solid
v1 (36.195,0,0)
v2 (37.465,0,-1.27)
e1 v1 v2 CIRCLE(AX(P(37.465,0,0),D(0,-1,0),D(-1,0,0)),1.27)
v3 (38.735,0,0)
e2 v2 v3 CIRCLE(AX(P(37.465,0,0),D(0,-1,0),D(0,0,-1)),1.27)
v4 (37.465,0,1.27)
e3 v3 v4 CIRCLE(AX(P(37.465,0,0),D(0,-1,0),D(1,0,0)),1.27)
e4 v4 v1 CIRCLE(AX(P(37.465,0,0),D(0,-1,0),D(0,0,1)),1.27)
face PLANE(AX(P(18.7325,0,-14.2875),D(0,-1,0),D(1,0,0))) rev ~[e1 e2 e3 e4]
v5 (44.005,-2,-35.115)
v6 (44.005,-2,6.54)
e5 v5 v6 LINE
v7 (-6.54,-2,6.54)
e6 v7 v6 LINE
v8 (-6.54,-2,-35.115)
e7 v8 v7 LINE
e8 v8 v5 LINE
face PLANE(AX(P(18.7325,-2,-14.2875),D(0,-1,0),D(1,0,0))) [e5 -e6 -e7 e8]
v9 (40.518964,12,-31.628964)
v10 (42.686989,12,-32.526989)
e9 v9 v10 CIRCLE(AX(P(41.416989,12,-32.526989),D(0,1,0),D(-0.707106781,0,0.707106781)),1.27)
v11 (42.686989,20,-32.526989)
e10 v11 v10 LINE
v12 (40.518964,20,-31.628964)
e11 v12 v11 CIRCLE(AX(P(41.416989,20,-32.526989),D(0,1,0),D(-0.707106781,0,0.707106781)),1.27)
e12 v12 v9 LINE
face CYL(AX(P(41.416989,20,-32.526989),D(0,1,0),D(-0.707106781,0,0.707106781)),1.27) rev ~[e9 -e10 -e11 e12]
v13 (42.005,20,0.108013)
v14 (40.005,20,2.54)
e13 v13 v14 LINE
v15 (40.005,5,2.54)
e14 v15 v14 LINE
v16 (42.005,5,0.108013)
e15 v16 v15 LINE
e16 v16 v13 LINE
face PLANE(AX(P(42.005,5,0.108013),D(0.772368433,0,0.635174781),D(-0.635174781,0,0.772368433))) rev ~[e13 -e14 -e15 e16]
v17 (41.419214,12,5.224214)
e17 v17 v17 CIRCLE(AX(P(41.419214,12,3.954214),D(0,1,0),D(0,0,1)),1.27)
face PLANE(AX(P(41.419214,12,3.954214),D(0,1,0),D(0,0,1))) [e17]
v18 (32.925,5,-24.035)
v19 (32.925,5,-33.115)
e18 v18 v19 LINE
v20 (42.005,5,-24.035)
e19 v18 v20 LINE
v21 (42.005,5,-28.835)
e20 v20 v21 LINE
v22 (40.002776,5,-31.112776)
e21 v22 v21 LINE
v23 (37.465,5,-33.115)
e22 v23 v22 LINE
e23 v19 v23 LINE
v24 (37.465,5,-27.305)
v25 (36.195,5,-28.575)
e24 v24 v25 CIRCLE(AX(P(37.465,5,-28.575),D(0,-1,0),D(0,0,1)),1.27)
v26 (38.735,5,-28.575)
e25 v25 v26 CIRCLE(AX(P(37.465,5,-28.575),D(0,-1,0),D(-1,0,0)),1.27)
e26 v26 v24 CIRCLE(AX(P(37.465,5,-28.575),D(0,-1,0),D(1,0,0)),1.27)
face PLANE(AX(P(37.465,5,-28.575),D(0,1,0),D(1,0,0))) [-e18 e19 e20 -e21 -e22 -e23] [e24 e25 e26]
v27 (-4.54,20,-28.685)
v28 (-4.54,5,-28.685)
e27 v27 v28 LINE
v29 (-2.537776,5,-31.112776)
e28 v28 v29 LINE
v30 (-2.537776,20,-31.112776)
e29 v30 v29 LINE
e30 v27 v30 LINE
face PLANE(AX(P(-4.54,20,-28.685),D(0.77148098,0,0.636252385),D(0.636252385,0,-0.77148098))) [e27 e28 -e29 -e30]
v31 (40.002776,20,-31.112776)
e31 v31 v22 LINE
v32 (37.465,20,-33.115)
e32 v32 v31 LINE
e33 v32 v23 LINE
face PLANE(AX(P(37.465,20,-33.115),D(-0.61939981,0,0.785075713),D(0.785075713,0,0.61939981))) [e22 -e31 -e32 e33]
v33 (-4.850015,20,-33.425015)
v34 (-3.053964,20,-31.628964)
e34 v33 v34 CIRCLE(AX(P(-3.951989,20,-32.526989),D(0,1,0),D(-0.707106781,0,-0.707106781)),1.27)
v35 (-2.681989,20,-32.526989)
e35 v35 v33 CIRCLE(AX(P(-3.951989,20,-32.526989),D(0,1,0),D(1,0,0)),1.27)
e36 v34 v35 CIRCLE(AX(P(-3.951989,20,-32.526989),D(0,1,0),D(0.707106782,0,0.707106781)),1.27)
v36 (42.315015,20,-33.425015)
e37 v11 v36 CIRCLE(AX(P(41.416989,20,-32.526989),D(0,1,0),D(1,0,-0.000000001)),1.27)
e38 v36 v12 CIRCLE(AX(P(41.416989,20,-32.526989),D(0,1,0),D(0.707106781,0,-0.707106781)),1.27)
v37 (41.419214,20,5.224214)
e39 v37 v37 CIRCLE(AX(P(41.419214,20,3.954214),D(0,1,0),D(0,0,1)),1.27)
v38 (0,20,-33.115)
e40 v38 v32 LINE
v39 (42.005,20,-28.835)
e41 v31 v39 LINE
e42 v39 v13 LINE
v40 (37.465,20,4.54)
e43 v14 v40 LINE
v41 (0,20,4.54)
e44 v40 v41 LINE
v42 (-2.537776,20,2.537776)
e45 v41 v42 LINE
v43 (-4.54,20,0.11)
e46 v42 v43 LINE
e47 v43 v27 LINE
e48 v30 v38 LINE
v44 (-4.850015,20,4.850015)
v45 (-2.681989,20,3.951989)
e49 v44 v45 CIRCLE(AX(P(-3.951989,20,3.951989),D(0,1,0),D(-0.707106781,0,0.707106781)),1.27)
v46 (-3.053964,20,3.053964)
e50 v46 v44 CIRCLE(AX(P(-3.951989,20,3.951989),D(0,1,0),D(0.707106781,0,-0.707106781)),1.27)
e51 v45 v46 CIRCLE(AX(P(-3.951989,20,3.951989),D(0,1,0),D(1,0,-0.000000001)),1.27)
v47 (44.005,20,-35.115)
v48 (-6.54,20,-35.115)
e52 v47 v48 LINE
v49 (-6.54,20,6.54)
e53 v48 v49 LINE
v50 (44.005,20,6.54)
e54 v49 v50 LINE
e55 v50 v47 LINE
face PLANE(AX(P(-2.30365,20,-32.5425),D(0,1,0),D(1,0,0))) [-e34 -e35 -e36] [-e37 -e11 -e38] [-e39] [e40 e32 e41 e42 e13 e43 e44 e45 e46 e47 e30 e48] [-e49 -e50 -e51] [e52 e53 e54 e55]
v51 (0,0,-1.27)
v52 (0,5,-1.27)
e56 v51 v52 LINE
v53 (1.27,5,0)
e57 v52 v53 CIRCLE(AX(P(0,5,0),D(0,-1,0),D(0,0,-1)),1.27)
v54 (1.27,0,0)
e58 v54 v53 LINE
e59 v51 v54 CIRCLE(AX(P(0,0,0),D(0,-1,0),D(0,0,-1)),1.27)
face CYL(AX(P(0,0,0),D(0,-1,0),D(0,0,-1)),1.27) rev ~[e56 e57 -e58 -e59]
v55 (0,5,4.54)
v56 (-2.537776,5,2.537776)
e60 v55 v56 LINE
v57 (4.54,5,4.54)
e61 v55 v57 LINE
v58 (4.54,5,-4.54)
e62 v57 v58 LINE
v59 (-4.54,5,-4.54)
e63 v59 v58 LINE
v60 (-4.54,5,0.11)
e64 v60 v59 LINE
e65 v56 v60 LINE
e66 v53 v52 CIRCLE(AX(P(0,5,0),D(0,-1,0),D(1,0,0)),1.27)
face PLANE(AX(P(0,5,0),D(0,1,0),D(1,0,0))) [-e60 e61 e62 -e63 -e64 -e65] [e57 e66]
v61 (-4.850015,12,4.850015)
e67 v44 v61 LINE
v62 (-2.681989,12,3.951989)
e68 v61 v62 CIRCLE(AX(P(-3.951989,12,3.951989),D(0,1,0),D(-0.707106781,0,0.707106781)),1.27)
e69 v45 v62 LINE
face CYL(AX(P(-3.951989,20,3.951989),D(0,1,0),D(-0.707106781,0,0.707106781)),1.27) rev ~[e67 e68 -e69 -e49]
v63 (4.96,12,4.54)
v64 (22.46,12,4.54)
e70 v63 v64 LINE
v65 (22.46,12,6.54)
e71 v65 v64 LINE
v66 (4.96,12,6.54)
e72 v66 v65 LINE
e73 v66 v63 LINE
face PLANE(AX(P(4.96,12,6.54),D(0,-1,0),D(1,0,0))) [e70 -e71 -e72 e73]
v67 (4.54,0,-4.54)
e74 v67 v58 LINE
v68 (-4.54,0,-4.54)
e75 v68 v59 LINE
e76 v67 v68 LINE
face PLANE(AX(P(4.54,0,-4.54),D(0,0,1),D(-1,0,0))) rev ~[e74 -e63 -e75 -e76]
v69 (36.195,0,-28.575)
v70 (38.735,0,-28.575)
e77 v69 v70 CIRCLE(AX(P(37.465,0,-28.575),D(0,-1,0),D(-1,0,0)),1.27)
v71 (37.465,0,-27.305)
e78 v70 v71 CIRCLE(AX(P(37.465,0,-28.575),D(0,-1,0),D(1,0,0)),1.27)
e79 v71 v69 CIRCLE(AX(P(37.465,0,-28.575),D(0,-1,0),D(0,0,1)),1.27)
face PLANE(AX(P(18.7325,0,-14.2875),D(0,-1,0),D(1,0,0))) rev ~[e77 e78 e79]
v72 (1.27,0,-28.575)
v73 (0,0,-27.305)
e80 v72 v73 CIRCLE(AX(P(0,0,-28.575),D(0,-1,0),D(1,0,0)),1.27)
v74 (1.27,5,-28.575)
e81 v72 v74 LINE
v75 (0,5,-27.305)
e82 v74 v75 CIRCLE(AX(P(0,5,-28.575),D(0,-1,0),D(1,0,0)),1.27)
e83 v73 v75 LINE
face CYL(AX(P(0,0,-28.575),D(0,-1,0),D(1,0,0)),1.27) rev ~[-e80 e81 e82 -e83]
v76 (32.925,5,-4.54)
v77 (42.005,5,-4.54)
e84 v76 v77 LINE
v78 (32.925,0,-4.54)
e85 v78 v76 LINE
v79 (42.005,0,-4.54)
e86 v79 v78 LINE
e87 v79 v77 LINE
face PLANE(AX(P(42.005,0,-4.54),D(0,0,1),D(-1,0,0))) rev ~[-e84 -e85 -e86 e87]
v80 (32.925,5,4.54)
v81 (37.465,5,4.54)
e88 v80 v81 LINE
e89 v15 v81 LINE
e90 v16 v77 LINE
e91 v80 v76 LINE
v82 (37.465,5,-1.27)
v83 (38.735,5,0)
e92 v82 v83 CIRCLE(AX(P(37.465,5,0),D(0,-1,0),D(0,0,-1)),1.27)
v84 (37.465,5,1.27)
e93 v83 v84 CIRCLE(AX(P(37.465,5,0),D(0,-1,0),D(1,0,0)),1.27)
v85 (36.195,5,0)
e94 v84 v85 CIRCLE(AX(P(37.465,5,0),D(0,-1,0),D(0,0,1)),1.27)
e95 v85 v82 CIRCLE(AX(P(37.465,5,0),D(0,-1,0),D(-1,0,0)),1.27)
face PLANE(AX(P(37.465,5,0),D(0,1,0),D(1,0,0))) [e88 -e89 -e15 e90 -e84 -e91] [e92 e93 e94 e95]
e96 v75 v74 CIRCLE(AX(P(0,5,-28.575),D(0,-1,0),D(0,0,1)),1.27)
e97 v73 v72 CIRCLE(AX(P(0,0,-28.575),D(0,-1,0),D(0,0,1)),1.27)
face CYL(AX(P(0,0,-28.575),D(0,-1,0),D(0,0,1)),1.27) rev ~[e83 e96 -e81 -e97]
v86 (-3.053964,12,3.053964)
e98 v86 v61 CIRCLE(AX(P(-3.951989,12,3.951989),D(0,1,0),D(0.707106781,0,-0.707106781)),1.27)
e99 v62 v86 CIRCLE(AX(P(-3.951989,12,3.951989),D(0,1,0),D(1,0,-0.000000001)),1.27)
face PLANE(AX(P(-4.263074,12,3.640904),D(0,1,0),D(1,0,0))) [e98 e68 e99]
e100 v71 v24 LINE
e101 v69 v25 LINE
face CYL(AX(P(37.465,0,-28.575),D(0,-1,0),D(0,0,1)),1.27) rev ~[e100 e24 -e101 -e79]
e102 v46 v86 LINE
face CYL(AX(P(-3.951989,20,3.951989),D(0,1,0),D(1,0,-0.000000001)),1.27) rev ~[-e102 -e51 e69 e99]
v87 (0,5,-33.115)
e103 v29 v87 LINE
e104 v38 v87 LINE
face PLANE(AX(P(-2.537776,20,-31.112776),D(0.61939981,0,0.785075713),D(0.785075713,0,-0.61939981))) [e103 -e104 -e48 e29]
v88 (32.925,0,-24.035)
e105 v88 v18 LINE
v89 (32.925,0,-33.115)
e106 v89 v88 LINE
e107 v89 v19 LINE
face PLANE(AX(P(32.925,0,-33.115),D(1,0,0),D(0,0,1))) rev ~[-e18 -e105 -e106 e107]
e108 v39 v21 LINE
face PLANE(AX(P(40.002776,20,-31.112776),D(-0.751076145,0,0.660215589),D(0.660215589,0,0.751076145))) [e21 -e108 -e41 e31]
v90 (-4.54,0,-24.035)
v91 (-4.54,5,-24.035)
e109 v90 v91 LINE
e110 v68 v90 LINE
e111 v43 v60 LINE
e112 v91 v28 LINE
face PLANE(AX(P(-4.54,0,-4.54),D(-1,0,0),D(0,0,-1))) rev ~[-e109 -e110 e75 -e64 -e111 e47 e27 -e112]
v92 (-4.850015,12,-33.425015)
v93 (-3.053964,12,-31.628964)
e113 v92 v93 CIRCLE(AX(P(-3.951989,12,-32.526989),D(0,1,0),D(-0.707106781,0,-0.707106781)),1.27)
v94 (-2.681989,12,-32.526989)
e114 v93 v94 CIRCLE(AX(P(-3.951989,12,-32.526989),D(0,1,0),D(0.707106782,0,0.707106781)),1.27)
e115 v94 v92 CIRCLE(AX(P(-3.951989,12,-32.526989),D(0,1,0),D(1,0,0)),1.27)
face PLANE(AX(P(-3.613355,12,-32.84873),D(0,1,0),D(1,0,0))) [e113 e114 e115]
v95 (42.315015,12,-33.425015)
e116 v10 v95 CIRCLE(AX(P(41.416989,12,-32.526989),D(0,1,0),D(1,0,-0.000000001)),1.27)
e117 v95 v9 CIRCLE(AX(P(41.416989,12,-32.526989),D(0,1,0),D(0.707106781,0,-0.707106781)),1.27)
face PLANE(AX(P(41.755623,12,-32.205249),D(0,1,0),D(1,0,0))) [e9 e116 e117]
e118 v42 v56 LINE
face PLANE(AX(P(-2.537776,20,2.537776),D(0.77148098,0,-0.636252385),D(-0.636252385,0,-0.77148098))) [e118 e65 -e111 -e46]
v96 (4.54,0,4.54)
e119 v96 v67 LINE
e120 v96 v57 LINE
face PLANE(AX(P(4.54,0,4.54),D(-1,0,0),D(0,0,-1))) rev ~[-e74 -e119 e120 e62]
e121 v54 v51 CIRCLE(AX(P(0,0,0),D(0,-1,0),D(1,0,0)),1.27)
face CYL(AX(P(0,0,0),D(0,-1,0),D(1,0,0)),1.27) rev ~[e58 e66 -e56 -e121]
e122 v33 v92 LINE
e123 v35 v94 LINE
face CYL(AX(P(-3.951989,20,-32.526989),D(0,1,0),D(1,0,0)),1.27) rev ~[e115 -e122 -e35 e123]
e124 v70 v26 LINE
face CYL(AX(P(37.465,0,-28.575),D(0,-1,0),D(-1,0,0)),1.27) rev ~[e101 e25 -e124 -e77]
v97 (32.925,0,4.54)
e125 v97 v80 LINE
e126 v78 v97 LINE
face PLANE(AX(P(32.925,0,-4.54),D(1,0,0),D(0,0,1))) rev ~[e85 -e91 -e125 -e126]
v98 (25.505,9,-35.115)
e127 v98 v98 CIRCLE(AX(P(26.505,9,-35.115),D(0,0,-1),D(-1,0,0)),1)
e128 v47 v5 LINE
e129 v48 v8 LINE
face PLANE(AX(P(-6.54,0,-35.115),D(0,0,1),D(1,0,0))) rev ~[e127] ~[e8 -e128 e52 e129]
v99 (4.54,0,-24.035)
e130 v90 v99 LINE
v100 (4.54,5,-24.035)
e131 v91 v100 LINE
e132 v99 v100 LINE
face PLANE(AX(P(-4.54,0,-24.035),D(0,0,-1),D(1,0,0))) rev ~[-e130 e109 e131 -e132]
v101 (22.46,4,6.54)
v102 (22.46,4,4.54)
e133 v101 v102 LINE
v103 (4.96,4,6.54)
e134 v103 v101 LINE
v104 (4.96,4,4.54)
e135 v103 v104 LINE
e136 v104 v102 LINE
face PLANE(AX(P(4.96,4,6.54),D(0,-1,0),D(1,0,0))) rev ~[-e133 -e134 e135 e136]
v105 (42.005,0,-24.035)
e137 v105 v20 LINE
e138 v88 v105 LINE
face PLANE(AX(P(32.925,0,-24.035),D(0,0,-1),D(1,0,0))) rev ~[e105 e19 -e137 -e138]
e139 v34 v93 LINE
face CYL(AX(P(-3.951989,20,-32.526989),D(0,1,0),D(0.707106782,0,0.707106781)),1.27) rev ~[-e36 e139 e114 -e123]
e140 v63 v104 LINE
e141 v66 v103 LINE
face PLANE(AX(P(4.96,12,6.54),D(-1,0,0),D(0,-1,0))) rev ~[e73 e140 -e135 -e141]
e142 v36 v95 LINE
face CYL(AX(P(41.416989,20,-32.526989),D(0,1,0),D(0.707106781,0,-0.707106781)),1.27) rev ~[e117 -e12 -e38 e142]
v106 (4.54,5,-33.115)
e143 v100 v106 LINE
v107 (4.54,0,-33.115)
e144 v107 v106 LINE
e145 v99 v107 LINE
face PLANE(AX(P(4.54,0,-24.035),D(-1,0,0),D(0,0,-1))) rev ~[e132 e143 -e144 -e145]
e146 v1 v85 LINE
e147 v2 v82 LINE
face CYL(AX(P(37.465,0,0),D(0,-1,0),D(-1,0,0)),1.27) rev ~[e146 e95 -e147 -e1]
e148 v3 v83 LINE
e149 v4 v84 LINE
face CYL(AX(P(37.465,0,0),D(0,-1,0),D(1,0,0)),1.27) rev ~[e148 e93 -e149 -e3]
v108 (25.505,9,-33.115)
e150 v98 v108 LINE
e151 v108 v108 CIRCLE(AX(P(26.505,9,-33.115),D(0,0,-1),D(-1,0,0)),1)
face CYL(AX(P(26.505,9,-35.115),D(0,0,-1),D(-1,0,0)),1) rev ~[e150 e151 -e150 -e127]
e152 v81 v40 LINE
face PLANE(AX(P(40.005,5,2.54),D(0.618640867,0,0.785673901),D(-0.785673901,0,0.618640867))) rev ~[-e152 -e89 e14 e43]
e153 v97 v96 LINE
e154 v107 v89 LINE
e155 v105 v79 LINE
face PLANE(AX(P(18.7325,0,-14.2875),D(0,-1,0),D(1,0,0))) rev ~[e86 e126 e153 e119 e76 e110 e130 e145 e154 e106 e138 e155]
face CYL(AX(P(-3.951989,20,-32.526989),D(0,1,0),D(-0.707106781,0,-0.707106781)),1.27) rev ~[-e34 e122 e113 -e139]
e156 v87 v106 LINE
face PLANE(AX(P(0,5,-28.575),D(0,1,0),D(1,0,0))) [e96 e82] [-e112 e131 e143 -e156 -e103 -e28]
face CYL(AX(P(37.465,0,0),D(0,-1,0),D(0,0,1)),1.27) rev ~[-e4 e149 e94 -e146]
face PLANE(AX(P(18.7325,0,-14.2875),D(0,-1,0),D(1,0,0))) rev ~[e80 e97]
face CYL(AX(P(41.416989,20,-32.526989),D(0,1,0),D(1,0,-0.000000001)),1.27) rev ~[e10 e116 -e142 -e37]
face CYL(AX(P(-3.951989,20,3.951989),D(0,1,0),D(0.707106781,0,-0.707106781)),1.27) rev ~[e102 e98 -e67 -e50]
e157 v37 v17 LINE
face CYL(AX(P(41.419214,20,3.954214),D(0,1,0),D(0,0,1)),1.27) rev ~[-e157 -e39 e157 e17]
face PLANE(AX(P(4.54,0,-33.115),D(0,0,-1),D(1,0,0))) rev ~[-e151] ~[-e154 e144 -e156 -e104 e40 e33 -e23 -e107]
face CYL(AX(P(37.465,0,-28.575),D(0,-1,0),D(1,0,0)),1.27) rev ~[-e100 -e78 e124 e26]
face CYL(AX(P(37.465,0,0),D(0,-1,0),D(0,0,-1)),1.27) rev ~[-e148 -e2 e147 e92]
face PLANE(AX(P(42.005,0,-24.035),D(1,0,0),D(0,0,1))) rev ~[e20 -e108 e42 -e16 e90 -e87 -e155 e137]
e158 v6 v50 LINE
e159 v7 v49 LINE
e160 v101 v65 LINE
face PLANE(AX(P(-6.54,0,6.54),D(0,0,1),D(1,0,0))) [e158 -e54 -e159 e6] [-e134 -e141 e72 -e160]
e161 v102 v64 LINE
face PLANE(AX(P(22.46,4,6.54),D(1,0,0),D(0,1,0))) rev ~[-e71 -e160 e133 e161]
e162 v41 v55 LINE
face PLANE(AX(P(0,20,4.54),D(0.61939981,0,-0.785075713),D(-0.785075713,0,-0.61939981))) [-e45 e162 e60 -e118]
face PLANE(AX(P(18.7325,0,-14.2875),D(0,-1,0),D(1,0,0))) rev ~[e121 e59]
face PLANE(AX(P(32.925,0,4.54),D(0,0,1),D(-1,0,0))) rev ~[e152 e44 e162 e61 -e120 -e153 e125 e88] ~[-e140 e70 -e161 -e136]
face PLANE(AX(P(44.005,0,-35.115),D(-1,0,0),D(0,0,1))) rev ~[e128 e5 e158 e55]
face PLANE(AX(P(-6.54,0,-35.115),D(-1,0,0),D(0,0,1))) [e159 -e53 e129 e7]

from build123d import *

# Parameters (mm, degrees)
SKETCH2_W            = 2
SKETCH2_H            = 2
BOSS_EXTRUDE3_DEPTH  = 20
SKETCH3_W            = 9.08
SKETCH3_H            = 9.08
CUT_EXTRUDE1_DEPTH   = 15
SKETCH4_W            = 9.08
SKETCH4_H            = 9.08
CUT_EXTRUDE2_DEPTH   = 15
SKETCH5_W            = 9.08
SKETCH5_H            = 9.08
CUT_EXTRUDE3_DEPTH   = 15
SKETCH6_W            = 9.08
SKETCH6_H            = 9.08
CUT_EXTRUDE4_DEPTH   = 15
SKETCH7_W            = 50.545
SKETCH7_H            = 41.655
BOSS_EXTRUDE4_DEPTH  = 2
SKETCH9_W            = 17.5
SKETCH9_H            = 4
CUT_EXTRUDE8_DEPTH   = 10
BOSS_EXTRUDE5_DEPTH  = 15
SKETCH11_R           = 1.27
CUT_EXTRUDE9_DEPTH   = 8
BOSS_EXTRUDE9_DEPTH  = 18
CUT_EXTRUDE12_DEPTH  = 8
BOSS_EXTRUDE10_DEPTH = 18
CUT_EXTRUDE13_DEPTH  = 8
BOSS_EXTRUDE11_DEPTH = 18
CUT_EXTRUDE14_DEPTH  = 8
SKETCH22_R           = 1
CUT_EXTRUDE16_DEPTH  = 8


with BuildPart() as part:
    # Sketch2 → Boss-Extrude3 (new body)
    with BuildSketch(Plane(origin=(0, 0, 0), x_dir=(1, 0, 0), z_dir=(0, 1, 0))):
        Polygon((42.005, 24.035), (42.005, 33.115), (44.005, 33.115), (44.005, -4.54), (42.005, -4.54), (42.005, 4.54), align=None)
        with Locations((43.005, -5.54)):
            Rectangle(SKETCH2_W, SKETCH2_H)
        Polygon((4.54, -4.54), (32.925, -4.54), (37.465, -4.54), (42.005, -4.54), (42.005, -6.54), (-4.54, -6.54), (-4.54, -4.54), align=None)
        with Locations((-5.54, -5.54)):
            Rectangle(SKETCH2_W, SKETCH2_H)
        Polygon((-4.54, 24.035), (-4.54, 4.54), (-4.54, -4.54), (-6.54, -4.54), (-6.54, 33.115), (-4.54, 33.115), align=None)
        with Locations((-5.54, 34.115)):
            Rectangle(SKETCH2_W, SKETCH2_H)
        Polygon((4.54, 33.115), (-4.54, 33.115), (-4.54, 35.115), (42.005, 35.115), (42.005, 33.115), (32.925, 33.115), align=None)
        with Locations((43.005, 34.115)):
            Rectangle(SKETCH2_W, SKETCH2_H)
        with BuildLine():
            Line((37.465, 27.305), (37.465, 24.035))
            Line((37.465, 24.035), (42.005, 24.035))
            Line((42.005, 24.035), (42.005, 33.115))
            Line((42.005, 33.115), (32.925, 33.115))
            Line((32.925, 33.115), (32.925, 28.575))
            Line((32.925, 28.575), (36.195, 28.575))
            ThreePointArc((36.195, 28.575), (37.465, 29.845), (38.735, 28.575))
            ThreePointArc((38.735, 28.575), (38.363025612, 27.676974388), (37.465, 27.305))
        make_face()
        with BuildLine():
            Line((32.925, 24.035), (37.465, 24.035))
            Line((37.465, 24.035), (37.465, 27.305))
            ThreePointArc((37.465, 27.305), (36.566974388, 27.676974388), (36.195, 28.575))
            Line((36.195, 28.575), (32.925, 28.575))
            Line((32.925, 28.575), (32.925, 24.035))
        make_face()
        with BuildLine():
            Line((37.465, 4.54), (37.465, 1.27))
            ThreePointArc((37.465, 1.27), (38.363025612, 0.898025612), (38.735, 0))
            ThreePointArc((38.735, 0), (38.363025612, -0.898025612), (37.465, -1.27))
            Line((37.465, -1.27), (37.465, -4.54))
            Line((37.465, -4.54), (42.005, -4.54))
            Line((42.005, -4.54), (42.005, 4.54))
            Line((42.005, 4.54), (37.465, 4.54))
        make_face()
        with BuildLine():
            Line((32.925, 4.54), (32.925, 0))
            Line((32.925, 0), (36.195, 0))
            ThreePointArc((36.195, 0), (36.566974388, 0.898025612), (37.465, 1.27))
            Line((37.465, 1.27), (37.465, 4.54))
            Line((37.465, 4.54), (32.925, 4.54))
        make_face()
        with BuildLine():
            Line((36.195, 0), (32.925, 0))
            Line((32.925, 0), (32.925, -4.54))
            Line((32.925, -4.54), (37.465, -4.54))
            Line((37.465, -4.54), (37.465, -1.27))
            ThreePointArc((37.465, -1.27), (36.566974388, -0.898025612), (36.195, 0))
        make_face()
        with BuildLine():
            Line((0, 27.305), (0, 24.035))
            Line((0, 24.035), (4.54, 24.035))
            Line((4.54, 24.035), (4.54, 28.575))
            Line((4.54, 28.575), (1.27, 28.575))
            ThreePointArc((1.27, 28.575), (0.898025612, 27.676974388), (0, 27.305))
        make_face()
        with BuildLine():
            Line((-4.54, 24.035), (0, 24.035))
            Line((0, 24.035), (0, 27.305))
            ThreePointArc((0, 27.305), (-0.898025612, 29.473025612), (1.27, 28.575))
            Line((1.27, 28.575), (4.54, 28.575))
            Line((4.54, 28.575), (4.54, 33.115))
            Line((4.54, 33.115), (-4.54, 33.115))
            Line((-4.54, 33.115), (-4.54, 24.035))
        make_face()
        with BuildLine():
            ThreePointArc((0, 1.27), (0.898025612, 0.898025612), (1.27, 0))
            Line((1.27, 0), (4.54, 0))
            Line((4.54, 0), (4.54, 4.54))
            Line((4.54, 4.54), (0, 4.54))
            Line((0, 4.54), (0, 1.27))
        make_face()
        with BuildLine():
            Line((4.54, 0), (1.27, 0))
            ThreePointArc((1.27, 0), (-0.898025612, -0.898025612), (0, 1.27))
            Line((0, 1.27), (0, 4.54))
            Line((0, 4.54), (-4.54, 4.54))
            Line((-4.54, 4.54), (-4.54, -4.54))
            Line((-4.54, -4.54), (4.54, -4.54))
            Line((4.54, -4.54), (4.54, 0))
        make_face()
    extrude(amount=BOSS_EXTRUDE3_DEPTH)

    # Sketch3 → Cut-Extrude1 (cut)
    with BuildSketch(Plane(origin=(0, 20, 0), x_dir=(1, 0, 0), z_dir=(0, 1, 0))):
        with Locations((37.465, 28.575)):
            Rectangle(SKETCH3_W, SKETCH3_H)
    extrude(amount=-CUT_EXTRUDE1_DEPTH, mode=Mode.SUBTRACT)

    # Sketch4 → Cut-Extrude2 (cut)
    with BuildSketch(Plane(origin=(0, 20, 0), x_dir=(1, 0, 0), z_dir=(0, 1, 0))):
        with Locations((0, 28.575)):
            Rectangle(SKETCH4_W, SKETCH4_H)
    extrude(amount=-CUT_EXTRUDE2_DEPTH, mode=Mode.SUBTRACT)

    # Sketch5 → Cut-Extrude3 (cut)
    with BuildSketch(Plane(origin=(0, 20, 0), x_dir=(1, 0, 0), z_dir=(0, 1, 0))):
        with Locations((37.465, 0)):
            Rectangle(SKETCH5_W, SKETCH5_H)
    extrude(amount=-CUT_EXTRUDE3_DEPTH, mode=Mode.SUBTRACT)

    # Sketch6 → Cut-Extrude4 (cut)
    with BuildSketch(Plane(origin=(0, 20, 0), x_dir=(1, 0, 0), z_dir=(0, 1, 0))):
        Rectangle(SKETCH6_W, SKETCH6_H)
    extrude(amount=-CUT_EXTRUDE4_DEPTH, mode=Mode.SUBTRACT)

    # Sketch7 → Boss-Extrude4 (add)
    with BuildSketch(Plane.XZ):
        with Locations((18.7325, -14.2875)):
            Rectangle(SKETCH7_W, SKETCH7_H)
    extrude(amount=BOSS_EXTRUDE4_DEPTH)

    # Sketch9 → Cut-Extrude8 (cut)
    with BuildSketch(Plane.XY.offset(6.54)):
        with Locations((13.71, 10)):
            Rectangle(SKETCH9_W, SKETCH9_H)
        with Locations((13.71, 6)):
            Rectangle(SKETCH9_W, SKETCH9_H)
    extrude(amount=-CUT_EXTRUDE8_DEPTH, mode=Mode.SUBTRACT)

    # Sketch10 → Boss-Extrude5 (add)
    with BuildSketch(Plane(origin=(0, 5, 0), x_dir=(1, 0, 0), z_dir=(0, 1, 0))):
        Polygon((42.005, -0.108012912), (40.005, -2.54), (42.005, -2.54), align=None)
        Polygon((42.005, -2.54), (40.005, -2.54), (37.465, -4.54), (42.005, -4.54), align=None)
    extrude(amount=BOSS_EXTRUDE5_DEPTH)

    # Sketch11 → Cut-Extrude9 (cut)
    with BuildSketch(Plane(origin=(0, 20, 0), x_dir=(1, 0, 0), z_dir=(0, 1, 0))):
        with Locations(Location((41.419213562, -3.954213562, 0), (0, 0, 270))):
            Circle(SKETCH11_R)
    extrude(amount=-CUT_EXTRUDE9_DEPTH, mode=Mode.SUBTRACT)

    # Sketch12 → Boss-Extrude9 (add)
    with BuildSketch(Plane(origin=(0, 20, 0), x_dir=(1, 0, 0), z_dir=(0, 1, 0))):
        with BuildLine():
            Line((37.465, 33.115), (40.002775618, 31.112775618))
            Line((40.002775618, 31.112775618), (40.516974388, 31.626974388))
            ThreePointArc((40.516974388, 31.626974388), (40.15947529, 32.333799314), (40.290366726, 33.115))
            Line((40.290366726, 33.115), (37.465, 33.115))
        make_face()
        with BuildLine():
            Line((40.002775618, 31.112775618), (42.005, 28.835))
            Line((42.005, 28.835), (42.005, 31.400366726))
            ThreePointArc((42.005, 31.400366726), (41.223799314, 31.26947529), (40.516974388, 31.626974388))
            Line((40.516974388, 31.626974388), (40.002775618, 31.112775618))
        make_face()
        Polygon((41.415, 32.525), (42.005, 32.525), (42.005, 33.115), align=None)
        Polygon((41.415, 33.115), (41.415, 32.525), (42.005, 33.115), align=None)
        with BuildLine():
            ThreePointArc((40.516974388, 31.626974388), (41.223799314, 31.26947529), (42.005, 31.400366726))
            Line((42.005, 31.400366726), (42.005, 32.525))
            Line((42.005, 32.525), (41.415, 32.525))
            Line((41.415, 32.525), (40.516974388, 31.626974388))
        make_face()
        with BuildLine():
            Line((42.005, 32.525), (42.685, 32.525))
            ThreePointArc((42.685, 32.525), (42.588327006, 33.011007959), (42.313025612, 33.423025612))
            Line((42.313025612, 33.423025612), (42.005, 33.115))
            Line((42.005, 33.115), (42.005, 32.525))
        make_face()
        with BuildLine():
            ThreePointArc((40.290366726, 33.115), (40.15947529, 32.333799314), (40.516974388, 31.626974388))
            Line((40.516974388, 31.626974388), (41.415, 32.525))
            Line((41.415, 32.525), (41.415, 33.115))
            Line((41.415, 33.115), (40.290366726, 33.115))
        make_face()
        with BuildLine():
            Line((42.005, 33.115), (42.313025612, 33.423025612))
            ThreePointArc((42.313025612, 33.423025612), (41.901007959, 33.698327006), (41.415, 33.795))
            Line((41.415, 33.795), (41.415, 33.115))
            Line((41.415, 33.115), (42.005, 33.115))
        make_face()
    extrude(amount=-BOSS_EXTRUDE9_DEPTH)

    # Sketch17 → Cut-Extrude12 (cut)
    with BuildSketch(Plane(origin=(0, 20, 0), x_dir=(1, 0, 0), z_dir=(0, 1, 0))):
        with BuildLine():
            ThreePointArc((42.686989181, 32.526989181), (42.590316187, 33.01299714), (42.315014793, 33.425014793))
            Line((42.315014793, 33.425014793), (41.416989181, 32.526989181))
            Line((41.416989181, 32.526989181), (40.518963569, 31.628963569))
            ThreePointArc((40.518963569, 31.628963569), (41.90299714, 31.353662175), (42.686989181, 32.526989181))
        make_face()
        with BuildLine():
            Line((41.416989181, 32.526989181), (42.315014793, 33.425014793))
            ThreePointArc((42.315014793, 33.425014793), (40.518963569, 33.425014793), (40.518963569, 31.628963569))
            Line((40.518963569, 31.628963569), (41.416989181, 32.526989181))
        make_face()
    extrude(amount=-CUT_EXTRUDE12_DEPTH, mode=Mode.SUBTRACT)

    # Sketch18 → Boss-Extrude10 (add)
    with BuildSketch(Plane(origin=(0, 20, 0), x_dir=(1, 0, 0), z_dir=(0, 1, 0))):
        Polygon((-4.54, -0.11), (-4.54, -4.54), (-2.537775618, -2.537775618), align=None)
        Polygon((-2.537775618, -2.537775618), (-4.54, -4.54), (0, -4.54), align=None)
    extrude(amount=-BOSS_EXTRUDE10_DEPTH)

    # Sketch19 → Cut-Extrude13 (cut)
    with BuildSketch(Plane(origin=(0, 20, 0), x_dir=(1, 0, 0), z_dir=(0, 1, 0))):
        with BuildLine():
            ThreePointArc((-3.053963569, -3.053963569), (-4.850014793, -3.053963569), (-4.850014793, -4.850014793))
            Line((-4.850014793, -4.850014793), (-3.951989181, -3.951989181))
            Line((-3.951989181, -3.951989181), (-3.053963569, -3.053963569))
        make_face()
        with BuildLine():
            Line((-3.951989181, -3.951989181), (-4.850014793, -4.850014793))
            ThreePointArc((-4.850014793, -4.850014793), (-3.465981222, -5.125316187), (-2.681989181, -3.951989181))
            ThreePointArc((-2.681989181, -3.951989181), (-2.778662175, -3.465981222), (-3.053963569, -3.053963569))
            Line((-3.053963569, -3.053963569), (-3.951989181, -3.951989181))
        make_face()
    extrude(amount=-CUT_EXTRUDE13_DEPTH, mode=Mode.SUBTRACT)

    # Sketch20 → Boss-Extrude11 (add)
    with BuildSketch(Plane(origin=(0, 20, 0), x_dir=(1, 0, 0), z_dir=(0, 1, 0))):
        Polygon((0, 33.115), (-4.54, 33.115), (-2.537775618, 31.112775618), align=None)
        Polygon((-2.537775618, 31.112775618), (-4.54, 33.115), (-4.54, 28.685), align=None)
    extrude(amount=-BOSS_EXTRUDE11_DEPTH)

    # Sketch21 → Cut-Extrude14 (cut)
    with BuildSketch(Plane(origin=(0, 20, 0), x_dir=(1, 0, 0), z_dir=(0, 1, 0))):
        with BuildLine():
            ThreePointArc((-2.681989181, 32.526989181), (-3.465981222, 33.700316187), (-4.850014793, 33.425014793))
            Line((-4.850014793, 33.425014793), (-3.951989181, 32.526989181))
            Line((-3.951989181, 32.526989181), (-3.053963569, 31.628963569))
            ThreePointArc((-3.053963569, 31.628963569), (-2.778662175, 32.040981222), (-2.681989181, 32.526989181))
        make_face()
        with BuildLine():
            Line((-3.951989181, 32.526989181), (-4.850014793, 33.425014793))
            ThreePointArc((-4.850014793, 33.425014793), (-4.850014793, 31.628963569), (-3.053963569, 31.628963569))
            Line((-3.053963569, 31.628963569), (-3.951989181, 32.526989181))
        make_face()
    extrude(amount=-CUT_EXTRUDE14_DEPTH, mode=Mode.SUBTRACT)

    # Sketch22 → Cut-Extrude16 (cut)
    with BuildSketch(Plane(origin=(0, 0, -35.115), x_dir=(-1, 0, 0), z_dir=(0, 0, -1))):
        with Locations((-26.505, 9)):
            Circle(SKETCH22_R)
    extrude(amount=-CUT_EXTRUDE16_DEPTH, mode=Mode.SUBTRACT)


solid = part.part
